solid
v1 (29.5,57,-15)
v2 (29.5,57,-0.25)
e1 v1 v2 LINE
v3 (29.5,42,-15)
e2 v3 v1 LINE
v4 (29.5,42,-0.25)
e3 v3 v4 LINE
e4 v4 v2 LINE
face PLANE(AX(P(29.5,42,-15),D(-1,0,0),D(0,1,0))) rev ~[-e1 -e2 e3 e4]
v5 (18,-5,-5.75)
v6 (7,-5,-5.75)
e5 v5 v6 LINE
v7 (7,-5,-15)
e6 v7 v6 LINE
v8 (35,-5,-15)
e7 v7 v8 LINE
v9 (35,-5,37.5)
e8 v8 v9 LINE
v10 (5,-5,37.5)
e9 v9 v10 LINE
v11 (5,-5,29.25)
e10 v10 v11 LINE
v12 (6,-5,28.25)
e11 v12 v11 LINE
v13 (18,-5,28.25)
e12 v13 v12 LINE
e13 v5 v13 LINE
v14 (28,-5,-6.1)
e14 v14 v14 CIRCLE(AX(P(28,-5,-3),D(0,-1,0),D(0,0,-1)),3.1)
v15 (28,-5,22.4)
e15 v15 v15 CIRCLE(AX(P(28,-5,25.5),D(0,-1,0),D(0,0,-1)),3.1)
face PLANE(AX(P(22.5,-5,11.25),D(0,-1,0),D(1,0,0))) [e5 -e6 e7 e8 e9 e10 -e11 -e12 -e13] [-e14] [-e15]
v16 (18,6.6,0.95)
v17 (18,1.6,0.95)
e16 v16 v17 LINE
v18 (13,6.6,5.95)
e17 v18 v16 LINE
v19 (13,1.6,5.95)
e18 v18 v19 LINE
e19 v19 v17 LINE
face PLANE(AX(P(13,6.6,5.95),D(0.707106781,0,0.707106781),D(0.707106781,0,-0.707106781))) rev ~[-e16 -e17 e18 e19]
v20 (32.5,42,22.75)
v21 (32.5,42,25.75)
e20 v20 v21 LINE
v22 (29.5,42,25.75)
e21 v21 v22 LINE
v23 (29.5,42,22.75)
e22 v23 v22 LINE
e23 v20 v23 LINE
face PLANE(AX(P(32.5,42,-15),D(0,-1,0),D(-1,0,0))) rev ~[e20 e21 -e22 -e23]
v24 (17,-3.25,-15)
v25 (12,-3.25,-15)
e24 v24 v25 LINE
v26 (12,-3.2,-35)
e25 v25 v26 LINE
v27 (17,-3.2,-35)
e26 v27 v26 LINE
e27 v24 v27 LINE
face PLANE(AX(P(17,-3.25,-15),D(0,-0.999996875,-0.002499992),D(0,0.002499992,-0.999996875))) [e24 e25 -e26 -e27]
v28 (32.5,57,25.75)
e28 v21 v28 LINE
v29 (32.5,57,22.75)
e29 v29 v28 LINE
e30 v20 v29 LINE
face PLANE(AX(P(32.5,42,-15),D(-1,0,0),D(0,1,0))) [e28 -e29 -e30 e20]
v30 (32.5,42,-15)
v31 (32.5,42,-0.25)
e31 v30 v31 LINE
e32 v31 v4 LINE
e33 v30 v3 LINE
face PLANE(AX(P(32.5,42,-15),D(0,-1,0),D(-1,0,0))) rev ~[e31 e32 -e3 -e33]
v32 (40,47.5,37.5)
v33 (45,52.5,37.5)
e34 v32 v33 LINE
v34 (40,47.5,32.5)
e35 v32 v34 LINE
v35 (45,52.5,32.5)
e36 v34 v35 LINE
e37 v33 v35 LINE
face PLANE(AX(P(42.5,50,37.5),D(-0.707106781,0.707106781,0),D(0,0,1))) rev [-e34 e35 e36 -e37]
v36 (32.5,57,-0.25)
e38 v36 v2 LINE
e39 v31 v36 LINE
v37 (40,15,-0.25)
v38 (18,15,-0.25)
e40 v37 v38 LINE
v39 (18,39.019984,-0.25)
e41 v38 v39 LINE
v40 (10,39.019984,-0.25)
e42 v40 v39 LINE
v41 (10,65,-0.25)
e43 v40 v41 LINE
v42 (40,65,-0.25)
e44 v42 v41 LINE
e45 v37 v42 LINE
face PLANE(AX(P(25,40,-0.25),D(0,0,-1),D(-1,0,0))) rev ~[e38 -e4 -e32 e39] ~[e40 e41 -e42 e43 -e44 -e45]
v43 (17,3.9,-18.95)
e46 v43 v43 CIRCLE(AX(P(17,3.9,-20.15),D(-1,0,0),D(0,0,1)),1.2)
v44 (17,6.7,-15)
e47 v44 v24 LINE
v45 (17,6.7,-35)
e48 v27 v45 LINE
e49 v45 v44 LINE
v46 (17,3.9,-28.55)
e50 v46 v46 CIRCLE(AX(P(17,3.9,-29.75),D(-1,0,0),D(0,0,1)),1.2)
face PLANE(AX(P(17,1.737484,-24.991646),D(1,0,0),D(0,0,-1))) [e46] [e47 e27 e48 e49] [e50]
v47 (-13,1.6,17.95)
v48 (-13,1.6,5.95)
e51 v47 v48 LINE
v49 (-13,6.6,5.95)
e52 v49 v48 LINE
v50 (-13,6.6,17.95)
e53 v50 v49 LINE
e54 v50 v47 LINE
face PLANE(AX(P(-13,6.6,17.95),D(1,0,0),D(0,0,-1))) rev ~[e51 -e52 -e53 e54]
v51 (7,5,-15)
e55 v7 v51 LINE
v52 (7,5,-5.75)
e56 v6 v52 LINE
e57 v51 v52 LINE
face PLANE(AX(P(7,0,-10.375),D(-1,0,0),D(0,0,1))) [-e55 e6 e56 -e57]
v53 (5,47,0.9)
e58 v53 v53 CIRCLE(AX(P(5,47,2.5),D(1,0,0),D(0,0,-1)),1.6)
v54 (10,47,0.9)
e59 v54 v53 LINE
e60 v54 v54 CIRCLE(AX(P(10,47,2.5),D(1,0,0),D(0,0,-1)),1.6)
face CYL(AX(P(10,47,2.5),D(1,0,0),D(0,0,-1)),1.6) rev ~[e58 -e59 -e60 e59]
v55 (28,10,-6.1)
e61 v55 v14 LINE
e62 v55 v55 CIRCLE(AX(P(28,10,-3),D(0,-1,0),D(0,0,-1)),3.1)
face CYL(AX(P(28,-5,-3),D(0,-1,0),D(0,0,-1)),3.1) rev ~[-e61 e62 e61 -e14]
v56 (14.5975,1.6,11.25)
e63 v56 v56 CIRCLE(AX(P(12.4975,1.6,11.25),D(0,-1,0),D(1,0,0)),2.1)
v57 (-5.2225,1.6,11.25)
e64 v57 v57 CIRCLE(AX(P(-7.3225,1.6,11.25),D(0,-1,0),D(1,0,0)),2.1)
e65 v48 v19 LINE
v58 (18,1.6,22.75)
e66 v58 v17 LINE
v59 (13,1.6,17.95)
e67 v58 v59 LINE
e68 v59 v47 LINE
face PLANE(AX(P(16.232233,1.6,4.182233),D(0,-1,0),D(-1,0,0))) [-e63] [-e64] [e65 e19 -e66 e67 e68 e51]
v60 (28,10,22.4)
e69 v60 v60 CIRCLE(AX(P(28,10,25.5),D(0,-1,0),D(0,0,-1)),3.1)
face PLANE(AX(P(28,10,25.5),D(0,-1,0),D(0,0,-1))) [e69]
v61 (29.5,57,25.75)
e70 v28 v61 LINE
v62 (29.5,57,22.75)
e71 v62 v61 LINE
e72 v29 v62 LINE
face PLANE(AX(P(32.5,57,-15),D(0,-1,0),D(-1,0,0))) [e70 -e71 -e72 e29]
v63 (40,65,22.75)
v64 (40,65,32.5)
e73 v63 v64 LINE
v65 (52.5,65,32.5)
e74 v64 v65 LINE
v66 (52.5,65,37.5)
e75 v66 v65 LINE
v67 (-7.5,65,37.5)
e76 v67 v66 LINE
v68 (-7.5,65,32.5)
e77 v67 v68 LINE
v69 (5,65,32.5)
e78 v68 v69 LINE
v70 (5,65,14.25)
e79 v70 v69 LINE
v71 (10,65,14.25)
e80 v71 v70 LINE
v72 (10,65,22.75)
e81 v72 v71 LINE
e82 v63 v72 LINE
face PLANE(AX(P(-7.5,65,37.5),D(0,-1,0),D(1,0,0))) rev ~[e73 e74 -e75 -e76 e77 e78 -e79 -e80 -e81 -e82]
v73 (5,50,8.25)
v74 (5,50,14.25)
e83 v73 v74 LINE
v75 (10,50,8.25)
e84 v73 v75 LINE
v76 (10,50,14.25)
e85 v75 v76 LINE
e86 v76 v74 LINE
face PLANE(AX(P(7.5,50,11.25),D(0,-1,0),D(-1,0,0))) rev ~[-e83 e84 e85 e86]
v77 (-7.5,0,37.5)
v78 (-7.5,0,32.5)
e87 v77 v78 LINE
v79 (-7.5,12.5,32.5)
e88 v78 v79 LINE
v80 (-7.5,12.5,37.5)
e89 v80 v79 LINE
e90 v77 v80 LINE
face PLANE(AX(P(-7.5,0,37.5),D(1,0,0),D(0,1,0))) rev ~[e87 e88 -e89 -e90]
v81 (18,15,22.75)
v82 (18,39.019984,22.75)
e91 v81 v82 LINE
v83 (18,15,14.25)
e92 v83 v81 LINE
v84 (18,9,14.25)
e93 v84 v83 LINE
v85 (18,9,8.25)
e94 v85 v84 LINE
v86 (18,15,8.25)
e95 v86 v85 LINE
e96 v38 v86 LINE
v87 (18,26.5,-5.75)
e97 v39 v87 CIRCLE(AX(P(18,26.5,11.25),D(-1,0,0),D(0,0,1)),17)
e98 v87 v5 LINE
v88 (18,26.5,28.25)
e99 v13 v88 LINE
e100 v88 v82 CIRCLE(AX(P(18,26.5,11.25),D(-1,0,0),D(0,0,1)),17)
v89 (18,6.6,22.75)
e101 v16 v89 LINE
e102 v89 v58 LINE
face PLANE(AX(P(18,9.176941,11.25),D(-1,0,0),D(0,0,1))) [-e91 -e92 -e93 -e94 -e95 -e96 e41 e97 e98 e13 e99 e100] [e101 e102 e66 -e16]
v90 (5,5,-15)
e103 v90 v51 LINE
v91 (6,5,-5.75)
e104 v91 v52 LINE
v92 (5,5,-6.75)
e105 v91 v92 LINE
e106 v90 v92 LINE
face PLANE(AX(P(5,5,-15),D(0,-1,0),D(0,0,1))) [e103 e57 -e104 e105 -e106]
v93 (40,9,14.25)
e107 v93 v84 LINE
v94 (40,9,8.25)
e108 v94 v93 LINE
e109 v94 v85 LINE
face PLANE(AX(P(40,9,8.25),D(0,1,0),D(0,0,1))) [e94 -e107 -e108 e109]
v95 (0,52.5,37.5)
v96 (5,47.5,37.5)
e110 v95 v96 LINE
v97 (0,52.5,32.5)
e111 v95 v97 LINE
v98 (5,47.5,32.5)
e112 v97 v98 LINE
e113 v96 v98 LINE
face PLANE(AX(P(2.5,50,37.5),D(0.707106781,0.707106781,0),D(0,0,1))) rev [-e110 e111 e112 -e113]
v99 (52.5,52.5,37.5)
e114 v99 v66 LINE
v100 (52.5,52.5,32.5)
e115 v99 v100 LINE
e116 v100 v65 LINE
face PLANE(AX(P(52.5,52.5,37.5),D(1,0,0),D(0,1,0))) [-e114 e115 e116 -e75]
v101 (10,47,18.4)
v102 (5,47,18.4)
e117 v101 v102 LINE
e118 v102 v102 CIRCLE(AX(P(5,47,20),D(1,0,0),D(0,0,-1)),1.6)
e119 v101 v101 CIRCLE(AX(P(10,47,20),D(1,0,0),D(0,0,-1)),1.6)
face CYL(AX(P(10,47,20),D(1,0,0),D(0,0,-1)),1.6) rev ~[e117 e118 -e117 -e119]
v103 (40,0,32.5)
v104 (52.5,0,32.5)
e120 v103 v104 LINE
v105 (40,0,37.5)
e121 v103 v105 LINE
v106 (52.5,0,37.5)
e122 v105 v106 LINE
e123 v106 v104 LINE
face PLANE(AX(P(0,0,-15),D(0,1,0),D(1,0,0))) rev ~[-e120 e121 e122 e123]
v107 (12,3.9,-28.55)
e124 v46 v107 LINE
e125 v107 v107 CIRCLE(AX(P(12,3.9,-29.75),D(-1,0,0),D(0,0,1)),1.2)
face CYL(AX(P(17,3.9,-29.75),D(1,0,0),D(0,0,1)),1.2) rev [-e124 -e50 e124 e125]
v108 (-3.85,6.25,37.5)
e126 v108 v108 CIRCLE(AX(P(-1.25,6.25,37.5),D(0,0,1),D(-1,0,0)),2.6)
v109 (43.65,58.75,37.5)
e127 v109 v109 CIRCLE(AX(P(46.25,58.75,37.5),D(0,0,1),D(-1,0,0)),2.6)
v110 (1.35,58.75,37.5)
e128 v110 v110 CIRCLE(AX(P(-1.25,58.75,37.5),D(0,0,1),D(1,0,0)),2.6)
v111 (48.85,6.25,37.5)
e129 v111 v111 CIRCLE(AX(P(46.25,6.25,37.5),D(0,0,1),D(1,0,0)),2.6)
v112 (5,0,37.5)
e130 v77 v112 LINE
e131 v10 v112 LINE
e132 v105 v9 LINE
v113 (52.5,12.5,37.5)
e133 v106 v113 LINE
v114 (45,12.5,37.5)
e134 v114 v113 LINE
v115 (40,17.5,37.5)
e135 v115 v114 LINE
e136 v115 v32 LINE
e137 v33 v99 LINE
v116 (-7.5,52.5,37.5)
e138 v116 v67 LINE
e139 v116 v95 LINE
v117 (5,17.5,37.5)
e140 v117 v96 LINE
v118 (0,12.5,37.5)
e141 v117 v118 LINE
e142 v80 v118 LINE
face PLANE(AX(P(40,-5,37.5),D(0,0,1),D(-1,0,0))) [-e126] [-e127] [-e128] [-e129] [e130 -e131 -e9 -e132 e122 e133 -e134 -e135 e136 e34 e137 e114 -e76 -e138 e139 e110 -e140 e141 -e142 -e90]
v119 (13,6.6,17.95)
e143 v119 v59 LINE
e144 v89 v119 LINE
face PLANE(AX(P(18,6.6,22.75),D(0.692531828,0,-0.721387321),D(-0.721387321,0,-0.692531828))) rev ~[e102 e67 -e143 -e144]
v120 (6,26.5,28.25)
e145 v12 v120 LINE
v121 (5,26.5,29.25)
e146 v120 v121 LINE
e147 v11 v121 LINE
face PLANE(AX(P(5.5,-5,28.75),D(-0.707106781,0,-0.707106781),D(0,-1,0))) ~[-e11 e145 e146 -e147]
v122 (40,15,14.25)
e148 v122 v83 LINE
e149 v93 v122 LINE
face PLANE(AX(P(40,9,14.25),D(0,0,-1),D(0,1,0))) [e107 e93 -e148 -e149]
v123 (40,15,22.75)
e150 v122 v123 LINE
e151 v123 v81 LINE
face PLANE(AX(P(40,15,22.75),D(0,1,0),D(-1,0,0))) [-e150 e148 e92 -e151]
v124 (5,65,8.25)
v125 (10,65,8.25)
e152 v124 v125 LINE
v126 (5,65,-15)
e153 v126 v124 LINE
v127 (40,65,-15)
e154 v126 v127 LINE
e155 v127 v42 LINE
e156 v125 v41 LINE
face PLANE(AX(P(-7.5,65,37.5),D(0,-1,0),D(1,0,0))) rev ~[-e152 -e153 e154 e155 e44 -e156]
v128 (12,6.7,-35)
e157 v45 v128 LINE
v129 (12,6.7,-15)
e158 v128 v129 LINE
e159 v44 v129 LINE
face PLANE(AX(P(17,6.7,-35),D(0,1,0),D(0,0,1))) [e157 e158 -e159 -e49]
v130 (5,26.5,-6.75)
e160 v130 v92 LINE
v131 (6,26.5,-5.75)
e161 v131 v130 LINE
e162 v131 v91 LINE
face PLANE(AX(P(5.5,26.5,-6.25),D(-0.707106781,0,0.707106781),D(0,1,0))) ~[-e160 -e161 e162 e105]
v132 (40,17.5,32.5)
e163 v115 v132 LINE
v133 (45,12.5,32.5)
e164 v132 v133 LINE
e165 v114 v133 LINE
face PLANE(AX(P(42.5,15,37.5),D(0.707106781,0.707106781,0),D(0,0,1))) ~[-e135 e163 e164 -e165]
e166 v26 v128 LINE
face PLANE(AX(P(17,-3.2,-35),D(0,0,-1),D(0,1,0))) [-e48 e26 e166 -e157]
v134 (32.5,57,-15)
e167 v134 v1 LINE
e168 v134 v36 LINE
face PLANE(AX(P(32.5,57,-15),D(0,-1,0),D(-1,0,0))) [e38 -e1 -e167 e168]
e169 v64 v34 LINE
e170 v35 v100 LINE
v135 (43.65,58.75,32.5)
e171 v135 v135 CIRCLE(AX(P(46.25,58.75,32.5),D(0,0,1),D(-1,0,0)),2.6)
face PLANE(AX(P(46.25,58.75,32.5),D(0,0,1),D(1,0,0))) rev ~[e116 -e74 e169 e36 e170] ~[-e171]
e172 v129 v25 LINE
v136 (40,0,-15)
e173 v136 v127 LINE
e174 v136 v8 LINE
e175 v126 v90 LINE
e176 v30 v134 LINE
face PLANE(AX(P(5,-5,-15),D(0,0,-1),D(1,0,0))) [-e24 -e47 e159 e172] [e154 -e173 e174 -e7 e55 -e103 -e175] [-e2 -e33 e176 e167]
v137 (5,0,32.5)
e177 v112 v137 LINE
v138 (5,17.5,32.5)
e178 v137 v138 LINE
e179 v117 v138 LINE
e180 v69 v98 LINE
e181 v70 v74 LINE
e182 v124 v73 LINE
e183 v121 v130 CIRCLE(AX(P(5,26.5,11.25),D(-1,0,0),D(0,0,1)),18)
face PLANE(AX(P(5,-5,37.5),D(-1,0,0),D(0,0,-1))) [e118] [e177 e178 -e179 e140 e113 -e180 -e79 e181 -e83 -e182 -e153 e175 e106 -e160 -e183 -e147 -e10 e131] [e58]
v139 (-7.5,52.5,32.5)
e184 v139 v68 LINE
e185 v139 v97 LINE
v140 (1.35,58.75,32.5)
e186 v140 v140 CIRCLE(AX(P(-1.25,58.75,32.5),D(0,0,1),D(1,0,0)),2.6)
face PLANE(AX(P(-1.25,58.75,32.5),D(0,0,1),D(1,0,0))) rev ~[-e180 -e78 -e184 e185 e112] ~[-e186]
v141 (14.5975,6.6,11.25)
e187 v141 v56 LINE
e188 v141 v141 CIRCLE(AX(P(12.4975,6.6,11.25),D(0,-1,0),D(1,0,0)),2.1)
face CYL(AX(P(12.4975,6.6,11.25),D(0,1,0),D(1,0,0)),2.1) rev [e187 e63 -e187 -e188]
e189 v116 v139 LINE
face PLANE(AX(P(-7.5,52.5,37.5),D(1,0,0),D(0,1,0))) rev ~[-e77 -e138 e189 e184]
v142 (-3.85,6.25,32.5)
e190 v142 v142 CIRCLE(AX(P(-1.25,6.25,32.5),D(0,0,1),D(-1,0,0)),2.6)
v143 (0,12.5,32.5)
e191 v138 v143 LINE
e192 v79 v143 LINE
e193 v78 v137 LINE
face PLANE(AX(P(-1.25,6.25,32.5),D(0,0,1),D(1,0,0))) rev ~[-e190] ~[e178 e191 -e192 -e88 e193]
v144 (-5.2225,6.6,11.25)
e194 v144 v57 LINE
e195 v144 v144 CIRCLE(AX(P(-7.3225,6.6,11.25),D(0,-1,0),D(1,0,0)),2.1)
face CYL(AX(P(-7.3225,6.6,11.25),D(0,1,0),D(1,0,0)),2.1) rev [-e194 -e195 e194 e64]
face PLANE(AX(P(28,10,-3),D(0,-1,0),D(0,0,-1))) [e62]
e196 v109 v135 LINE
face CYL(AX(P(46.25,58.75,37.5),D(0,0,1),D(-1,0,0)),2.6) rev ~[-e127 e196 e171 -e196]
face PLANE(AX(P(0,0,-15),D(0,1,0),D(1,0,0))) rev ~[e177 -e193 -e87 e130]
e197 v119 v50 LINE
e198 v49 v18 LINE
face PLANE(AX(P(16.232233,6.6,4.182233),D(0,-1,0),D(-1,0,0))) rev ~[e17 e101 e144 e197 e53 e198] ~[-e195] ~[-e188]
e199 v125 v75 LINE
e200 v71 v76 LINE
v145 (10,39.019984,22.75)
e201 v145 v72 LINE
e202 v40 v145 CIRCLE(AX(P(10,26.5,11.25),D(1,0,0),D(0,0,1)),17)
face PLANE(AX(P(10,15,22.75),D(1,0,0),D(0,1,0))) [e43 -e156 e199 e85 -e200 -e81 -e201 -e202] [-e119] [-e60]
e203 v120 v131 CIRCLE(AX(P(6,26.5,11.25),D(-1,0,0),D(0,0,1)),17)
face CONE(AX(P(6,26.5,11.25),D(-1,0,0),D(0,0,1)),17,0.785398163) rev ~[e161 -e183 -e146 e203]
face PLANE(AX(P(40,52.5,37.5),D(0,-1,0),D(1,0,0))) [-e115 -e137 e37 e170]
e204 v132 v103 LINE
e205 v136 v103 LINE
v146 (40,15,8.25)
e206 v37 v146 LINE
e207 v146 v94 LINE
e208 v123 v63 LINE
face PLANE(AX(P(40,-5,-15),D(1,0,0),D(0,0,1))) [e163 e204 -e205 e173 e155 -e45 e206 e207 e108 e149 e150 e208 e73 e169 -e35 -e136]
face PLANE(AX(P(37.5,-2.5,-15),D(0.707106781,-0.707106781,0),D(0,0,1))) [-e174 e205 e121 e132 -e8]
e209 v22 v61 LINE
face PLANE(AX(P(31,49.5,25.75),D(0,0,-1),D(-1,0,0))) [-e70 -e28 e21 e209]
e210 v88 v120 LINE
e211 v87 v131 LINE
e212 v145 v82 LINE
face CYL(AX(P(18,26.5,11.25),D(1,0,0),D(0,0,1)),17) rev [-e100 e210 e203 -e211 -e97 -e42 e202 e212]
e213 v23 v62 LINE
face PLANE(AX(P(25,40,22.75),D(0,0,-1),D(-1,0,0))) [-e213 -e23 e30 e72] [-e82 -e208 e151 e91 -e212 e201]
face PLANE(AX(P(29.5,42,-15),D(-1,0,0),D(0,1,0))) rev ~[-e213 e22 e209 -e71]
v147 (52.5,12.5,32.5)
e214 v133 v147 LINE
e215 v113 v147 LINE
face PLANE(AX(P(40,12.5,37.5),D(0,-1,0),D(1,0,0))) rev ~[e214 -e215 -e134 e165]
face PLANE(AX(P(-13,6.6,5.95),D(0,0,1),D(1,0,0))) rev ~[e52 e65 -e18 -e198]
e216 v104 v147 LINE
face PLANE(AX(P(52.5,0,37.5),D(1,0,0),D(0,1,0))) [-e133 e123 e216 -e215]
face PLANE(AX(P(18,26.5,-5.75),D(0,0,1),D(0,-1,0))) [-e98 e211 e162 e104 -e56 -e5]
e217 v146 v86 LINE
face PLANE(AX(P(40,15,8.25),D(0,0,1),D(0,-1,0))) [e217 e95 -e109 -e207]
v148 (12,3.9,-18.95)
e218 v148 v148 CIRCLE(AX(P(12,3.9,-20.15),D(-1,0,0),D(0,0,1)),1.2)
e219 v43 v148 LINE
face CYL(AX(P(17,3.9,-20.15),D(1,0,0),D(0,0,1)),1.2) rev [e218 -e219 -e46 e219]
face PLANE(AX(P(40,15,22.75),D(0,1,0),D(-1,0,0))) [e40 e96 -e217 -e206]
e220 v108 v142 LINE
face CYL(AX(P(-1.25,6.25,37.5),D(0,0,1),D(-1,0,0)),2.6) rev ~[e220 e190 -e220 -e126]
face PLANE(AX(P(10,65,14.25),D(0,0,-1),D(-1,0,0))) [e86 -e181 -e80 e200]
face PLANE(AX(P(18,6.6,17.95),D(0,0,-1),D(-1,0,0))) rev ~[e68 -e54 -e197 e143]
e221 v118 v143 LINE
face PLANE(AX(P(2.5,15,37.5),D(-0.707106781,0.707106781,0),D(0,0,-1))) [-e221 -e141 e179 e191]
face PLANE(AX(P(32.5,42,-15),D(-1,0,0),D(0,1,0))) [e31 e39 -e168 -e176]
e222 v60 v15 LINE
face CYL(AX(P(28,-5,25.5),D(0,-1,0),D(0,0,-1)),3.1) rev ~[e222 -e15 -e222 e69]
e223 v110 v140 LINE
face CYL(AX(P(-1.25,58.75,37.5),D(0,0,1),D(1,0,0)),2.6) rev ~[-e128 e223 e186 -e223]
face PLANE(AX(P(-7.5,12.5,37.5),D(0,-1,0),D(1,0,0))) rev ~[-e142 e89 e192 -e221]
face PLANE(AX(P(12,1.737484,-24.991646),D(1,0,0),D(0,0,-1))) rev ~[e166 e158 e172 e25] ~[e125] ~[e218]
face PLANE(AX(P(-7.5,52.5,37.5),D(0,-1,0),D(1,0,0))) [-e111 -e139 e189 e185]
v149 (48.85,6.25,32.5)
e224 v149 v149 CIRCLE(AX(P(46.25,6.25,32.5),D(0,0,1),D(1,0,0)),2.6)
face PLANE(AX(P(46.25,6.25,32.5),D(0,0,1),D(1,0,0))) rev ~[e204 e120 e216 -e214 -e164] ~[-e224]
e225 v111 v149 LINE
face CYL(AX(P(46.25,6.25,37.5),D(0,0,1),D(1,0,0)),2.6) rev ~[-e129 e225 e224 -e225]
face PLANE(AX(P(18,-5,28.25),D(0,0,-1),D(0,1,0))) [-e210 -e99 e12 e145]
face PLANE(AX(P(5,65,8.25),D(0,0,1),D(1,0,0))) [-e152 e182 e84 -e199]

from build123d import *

# Parameters (mm, degrees)
BOSS_EXTRUDE1_DEPTH      = 42.5
BOSS_EXTRUDE1_DEPTH_BACK = 15
SKETCH1_W                = 40
SKETCH1_H                = 65
SKETCH3_W                = 22.5
SKETCH3_H                = 50
CUT_EXTRUDE2_DEPTH       = 30
SKETCH4_R                = 4.5
CUT_EXTRUDE3_DEPTH       = 10
SKETCH6_W                = 40
SKETCH6_H                = 65
CUT_EXTRUDE4_DEPTH       = 5
SKETCH7_R                = 3.1
CUT_EXTRUDE5_DEPTH       = 10
SKETCH8_W                = 52.5
SKETCH8_H                = 65
CUT_EXTRUDE6_DEPTH       = 5
SKETCH9_W                = 12.5
SKETCH9_H                = 12.5
SKETCH9_R                = 2.6
BOSS_EXTRUDE2_DEPTH      = 5
BOSS_EXTRUDE3_START      = 5
SKETCH10_R               = 3.1
BOSS_EXTRUDE3_DEPTH      = 5
SKETCH11_R               = 1.6
CUT_EXTRUDE7_DEPTH       = 87.240941553
CUT_EXTRUDE8_DEPTH       = 11.5
CUT_EXTRUDE8_DEPTH_BACK  = 11.5
SKETCH12_W               = 30
SKETCH12_H               = 50
CUT_EXTRUDE9_DEPTH       = 30
CUT_EXTRUDE10_DEPTH      = 15
CUT_EXTRUDE11_START      = -13
SKETCH15_R               = 17
SKETCH15_R_2             = 4.5
CUT_EXTRUDE11_DEPTH      = 13
CHAMFER1_SIZE            = 1
SKETCH16_W               = 9.25
SKETCH16_H               = 10
CUT_EXTRUDE12_DEPTH      = 2
SKETCH17_R               = 2.1
BOSS_EXTRUDE4_DEPTH      = 5
CHAMFER2_SIZE            = 5
CHAMFER3_SIZE            = 5
CHAMFER4_SIZE            = 5
SKETCH18_W               = 3
SKETCH18_H               = 15
CUT_EXTRUDE13_DEPTH      = 40.75
SKETCH20_R               = 1.2
BOSS_EXTRUDE5_DEPTH      = 5


with BuildPart() as part:
    # Sketch1 → Boss-Extrude1 (new, two sides: drawn at the far end of the back side and taken through both)
    with BuildSketch(Plane.XY.offset(-BOSS_EXTRUDE1_DEPTH_BACK)):
        with Locations((20, 32.5)):
            Rectangle(SKETCH1_W, SKETCH1_H)
    extrude(amount=BOSS_EXTRUDE1_DEPTH + BOSS_EXTRUDE1_DEPTH_BACK)

    # Sketch3 → Cut-Extrude2 (cut)
    with BuildSketch(Plane(origin=(40, 0, 0), x_dir=(0, 0, -1), z_dir=(1, 0, 0))):
        with Locations((-11.25, 40)):
            Rectangle(SKETCH3_W, SKETCH3_H)
    extrude(amount=-CUT_EXTRUDE2_DEPTH, mode=Mode.SUBTRACT)

    # Sketch4 → Cut-Extrude3 (cut)
    with BuildSketch(Plane(origin=(10, 0, 0), x_dir=(0, 0, -1), z_dir=(1, 0, 0))):
        with Locations((-11.25, 26.5)):
            Circle(SKETCH4_R)
    extrude(amount=-CUT_EXTRUDE3_DEPTH, mode=Mode.SUBTRACT)

    # Sketch6 → Cut-Extrude4 (cut)
    with BuildSketch(Plane.XY.offset(42.5)):
        with Locations((20, 32.5)):
            Rectangle(SKETCH6_W, SKETCH6_H)
    extrude(amount=-CUT_EXTRUDE4_DEPTH, mode=Mode.SUBTRACT)

    # Sketch7 → Cut-Extrude5 (cut)
    with BuildSketch(Plane.XZ):
        with Locations(Location((28, 25.5, 0), (0, 0, 270))):
            Circle(SKETCH7_R)
        with Locations(Location((28, -3, 0), (0, 0, 270))):
            Circle(SKETCH7_R)
    extrude(amount=-CUT_EXTRUDE5_DEPTH, mode=Mode.SUBTRACT)

    # Sketch8 → Cut-Extrude6 (cut)
    with BuildSketch(Plane.ZY):
        with Locations((11.25, 32.5)):
            Rectangle(SKETCH8_W, SKETCH8_H)
    extrude(amount=-CUT_EXTRUDE6_DEPTH, mode=Mode.SUBTRACT)

    # Sketch9 → Boss-Extrude2 (add)
    # profile 1 of 4: a face of its own
    with BuildSketch(Plane.XY.offset(37.5)):
        with Locations((-1.25, 58.75)):
            Rectangle(SKETCH9_W, SKETCH9_H)
        with Locations((-1.25, 58.75)):
            Circle(SKETCH9_R, mode=Mode.SUBTRACT)
    # profile 2 of 4: a face of its own
    with BuildSketch(Plane.XY.offset(37.5)):
        with Locations((46.25, 58.75)):
            Rectangle(SKETCH9_W, SKETCH9_H)
        with Locations(Location((46.25, 58.75, 0), (0, 0, 180))):
            Circle(SKETCH9_R, mode=Mode.SUBTRACT)
    # profile 3 of 4: a face of its own
    with BuildSketch(Plane.XY.offset(37.5)):
        with Locations((46.25, 6.25)):
            Rectangle(SKETCH9_W, SKETCH9_H)
        with Locations((46.25, 6.25)):
            Circle(SKETCH9_R, mode=Mode.SUBTRACT)
    # profile 4 of 4: a face of its own
    with BuildSketch(Plane.XY.offset(37.5)):
        with Locations((-1.25, 6.25)):
            Rectangle(SKETCH9_W, SKETCH9_H)
        with Locations(Location((-1.25, 6.25, 0), (0, 0, 180))):
            Circle(SKETCH9_R, mode=Mode.SUBTRACT)
    extrude(amount=-BOSS_EXTRUDE2_DEPTH)

    # Sketch10 → Boss-Extrude3 (add)
    with BuildSketch(Plane.XZ.offset(BOSS_EXTRUDE3_START)):
        Polygon((40, 32.5), (40, 37.5), (5, 37.5), (5, -15), (40, -15), align=None)
        with Locations(Location((28, 25.5, 0), (0, 0, 270))):
            Circle(SKETCH10_R, mode=Mode.SUBTRACT)
        with Locations(Location((28, -3, 0), (0, 0, 270))):
            Circle(SKETCH10_R, mode=Mode.SUBTRACT)
    extrude(amount=-BOSS_EXTRUDE3_DEPTH)

    # Sketch11 → Cut-Extrude7 (cut, through all)
    with BuildSketch(Plane(origin=(10, 0, 0), x_dir=(0, 0, -1), z_dir=(1, 0, 0))):
        with Locations((-2.5, 47)):
            Circle(SKETCH11_R)
        with Locations((-20, 47)):
            Circle(SKETCH11_R)
    extrude(amount=-CUT_EXTRUDE7_DEPTH, mode=Mode.SUBTRACT)

    # Sketch12 → Cut-Extrude8 (cut, two sides: drawn at the far end of the back side and taken through both)
    with BuildSketch(Plane(origin=(0, 0, 11.25), x_dir=(-1, 0, 0), z_dir=(0, 0, -1)).offset(-CUT_EXTRUDE8_DEPTH_BACK)):
        with Locations((-25, 40)):
            Rectangle(SKETCH12_W, SKETCH12_H)
    extrude(amount=CUT_EXTRUDE8_DEPTH + CUT_EXTRUDE8_DEPTH_BACK, mode=Mode.SUBTRACT)

    # Sketch13 → Cut-Extrude9 (cut)
    with BuildSketch(Plane(origin=(40, 0, 0), x_dir=(0, 0, -1), z_dir=(1, 0, 0))):
        Polygon((-11.25, 15), (-8.25, 15), (-8.25, 9), (-14.25, 9), (-14.25, 15), align=None)
    extrude(amount=-CUT_EXTRUDE9_DEPTH, mode=Mode.SUBTRACT)

    # Sketch14 → Cut-Extrude10 (cut)
    with BuildSketch(Plane(origin=(0, 65, 0), x_dir=(1, 0, 0), z_dir=(0, 1, 0))):
        Polygon((5, -11.25), (5, -8.25), (10, -8.25), (10, -14.25), (5, -14.25), align=None)
    extrude(amount=-CUT_EXTRUDE10_DEPTH, mode=Mode.SUBTRACT)

    # Sketch15 → Cut-Extrude11 (cut)
    # profile 1 of 2: a face of its own
    with BuildSketch(Plane.ZY.offset(-5).offset(CUT_EXTRUDE11_START)):
        with Locations((11.25, 26.5)):
            Circle(SKETCH15_R)
        with Locations((11.25, 26.5)):
            Circle(SKETCH15_R_2, mode=Mode.SUBTRACT)
    # profile 2 of 2: a face of its own
    with BuildSketch(Plane.ZY.offset(-5).offset(CUT_EXTRUDE11_START)):
        with BuildLine():
            Line((-5.75, 26.5), (-5.75, -5))
            Line((-5.75, -5), (28.25, -5))
            Line((28.25, -5), (28.25, 26.5))
            ThreePointArc((28.25, 26.5), (11.25, 9.5), (-5.75, 26.5))
        make_face()
    extrude(amount=CUT_EXTRUDE11_DEPTH, mode=Mode.SUBTRACT)

    # Chamfer1
    chamfer1_edges = [part.edges().sort_by_distance(p)[0] for p in [
        (5, 10.75, -5.75),
        (5, 43.5, 11.25),
        (5, 10.75, 28.25),
    ]]
    chamfer(chamfer1_edges, length=CHAMFER1_SIZE)

    # Sketch16 → Cut-Extrude12 (cut)
    with BuildSketch(Plane.ZY.offset(-5)):
        with Locations((-10.375, 0)):
            Rectangle(SKETCH16_W, SKETCH16_H)
    extrude(amount=-CUT_EXTRUDE12_DEPTH, mode=Mode.SUBTRACT)

    # Sketch17 → Boss-Extrude4 (add)
    # profile 1 of 3: a face of its own
    with BuildSketch(Plane(origin=(69.218616892, 6.6, 8.180920591), x_dir=(-1, 0, 0), z_dir=(0, -1, 0))):
        Polygon((51.218616892, 7.230920591), (51.218616892, 2.230920591), (56.218616892, 2.230920591), align=None)
    # profile 2 of 3: a face of its own
    with BuildSketch(Plane(origin=(69.218616892, 6.6, 8.180920591), x_dir=(-1, 0, 0), z_dir=(0, -1, 0))):
        Polygon((56.218616892, -9.769079409), (51.218616892, -9.769079409), (51.218616892, -14.569079409), align=None)
    # profile 3 of 3: a face of its own
    with BuildSketch(Plane(origin=(69.218616892, 6.6, 8.180920591), x_dir=(-1, 0, 0), z_dir=(0, -1, 0))):
        Polygon((56.218616892, 2.230920591), (51.218616892, 2.230920591), (51.218616892, -9.769079409), (56.218616892, -9.769079409), (82.218616892, -9.769079409), (82.218616892, 2.230920591), align=None)
        with Locations(Location((56.721116892, -3.069079409, 0), (0, 0, 180))):
            Circle(SKETCH17_R, mode=Mode.SUBTRACT)
        with Locations(Location((76.541116892, -3.069079409, 0), (0, 0, 180))):
            Circle(SKETCH17_R, mode=Mode.SUBTRACT)
    extrude(amount=BOSS_EXTRUDE4_DEPTH)

    # Chamfer2
    chamfer2_edges = [part.edges().sort_by_distance(p)[0] for p in [
        (40, -5, 11.25),
    ]]
    chamfer(chamfer2_edges, length=CHAMFER2_SIZE)

    # Chamfer3
    chamfer3_edges = [part.edges().sort_by_distance(p)[0] for p in [
        (40, 52.5, 35),
        (40, 12.5, 35),
    ]]
    chamfer(chamfer3_edges, length=CHAMFER3_SIZE)

    # Chamfer4
    chamfer4_edges = [part.edges().sort_by_distance(p)[0] for p in [
        (5, 12.5, 35),
        (5, 52.5, 35),
    ]]
    chamfer(chamfer4_edges, length=CHAMFER4_SIZE)

    # Sketch18 → Cut-Extrude13 (cut)
    with BuildSketch(Plane(origin=(0, 0, -15), x_dir=(-1, 0, 0), z_dir=(0, 0, -1))):
        with Locations((-31, 49.5)):
            Rectangle(SKETCH18_W, SKETCH18_H)
    extrude(amount=-CUT_EXTRUDE13_DEPTH, mode=Mode.SUBTRACT)

    # Sketch20 → Boss-Extrude5 (add)
    with BuildSketch(Plane.ZY.offset(-17)):
        Polygon((-15, -3.25), (-35, -3.2), (-35, 6.7), (-15, 6.7), align=None)
        with Locations((-29.75, 3.9)):
            Circle(SKETCH20_R, mode=Mode.SUBTRACT)
        with Locations((-20.15, 3.9)):
            Circle(SKETCH20_R, mode=Mode.SUBTRACT)
    extrude(amount=BOSS_EXTRUDE5_DEPTH)


solid = part.part
